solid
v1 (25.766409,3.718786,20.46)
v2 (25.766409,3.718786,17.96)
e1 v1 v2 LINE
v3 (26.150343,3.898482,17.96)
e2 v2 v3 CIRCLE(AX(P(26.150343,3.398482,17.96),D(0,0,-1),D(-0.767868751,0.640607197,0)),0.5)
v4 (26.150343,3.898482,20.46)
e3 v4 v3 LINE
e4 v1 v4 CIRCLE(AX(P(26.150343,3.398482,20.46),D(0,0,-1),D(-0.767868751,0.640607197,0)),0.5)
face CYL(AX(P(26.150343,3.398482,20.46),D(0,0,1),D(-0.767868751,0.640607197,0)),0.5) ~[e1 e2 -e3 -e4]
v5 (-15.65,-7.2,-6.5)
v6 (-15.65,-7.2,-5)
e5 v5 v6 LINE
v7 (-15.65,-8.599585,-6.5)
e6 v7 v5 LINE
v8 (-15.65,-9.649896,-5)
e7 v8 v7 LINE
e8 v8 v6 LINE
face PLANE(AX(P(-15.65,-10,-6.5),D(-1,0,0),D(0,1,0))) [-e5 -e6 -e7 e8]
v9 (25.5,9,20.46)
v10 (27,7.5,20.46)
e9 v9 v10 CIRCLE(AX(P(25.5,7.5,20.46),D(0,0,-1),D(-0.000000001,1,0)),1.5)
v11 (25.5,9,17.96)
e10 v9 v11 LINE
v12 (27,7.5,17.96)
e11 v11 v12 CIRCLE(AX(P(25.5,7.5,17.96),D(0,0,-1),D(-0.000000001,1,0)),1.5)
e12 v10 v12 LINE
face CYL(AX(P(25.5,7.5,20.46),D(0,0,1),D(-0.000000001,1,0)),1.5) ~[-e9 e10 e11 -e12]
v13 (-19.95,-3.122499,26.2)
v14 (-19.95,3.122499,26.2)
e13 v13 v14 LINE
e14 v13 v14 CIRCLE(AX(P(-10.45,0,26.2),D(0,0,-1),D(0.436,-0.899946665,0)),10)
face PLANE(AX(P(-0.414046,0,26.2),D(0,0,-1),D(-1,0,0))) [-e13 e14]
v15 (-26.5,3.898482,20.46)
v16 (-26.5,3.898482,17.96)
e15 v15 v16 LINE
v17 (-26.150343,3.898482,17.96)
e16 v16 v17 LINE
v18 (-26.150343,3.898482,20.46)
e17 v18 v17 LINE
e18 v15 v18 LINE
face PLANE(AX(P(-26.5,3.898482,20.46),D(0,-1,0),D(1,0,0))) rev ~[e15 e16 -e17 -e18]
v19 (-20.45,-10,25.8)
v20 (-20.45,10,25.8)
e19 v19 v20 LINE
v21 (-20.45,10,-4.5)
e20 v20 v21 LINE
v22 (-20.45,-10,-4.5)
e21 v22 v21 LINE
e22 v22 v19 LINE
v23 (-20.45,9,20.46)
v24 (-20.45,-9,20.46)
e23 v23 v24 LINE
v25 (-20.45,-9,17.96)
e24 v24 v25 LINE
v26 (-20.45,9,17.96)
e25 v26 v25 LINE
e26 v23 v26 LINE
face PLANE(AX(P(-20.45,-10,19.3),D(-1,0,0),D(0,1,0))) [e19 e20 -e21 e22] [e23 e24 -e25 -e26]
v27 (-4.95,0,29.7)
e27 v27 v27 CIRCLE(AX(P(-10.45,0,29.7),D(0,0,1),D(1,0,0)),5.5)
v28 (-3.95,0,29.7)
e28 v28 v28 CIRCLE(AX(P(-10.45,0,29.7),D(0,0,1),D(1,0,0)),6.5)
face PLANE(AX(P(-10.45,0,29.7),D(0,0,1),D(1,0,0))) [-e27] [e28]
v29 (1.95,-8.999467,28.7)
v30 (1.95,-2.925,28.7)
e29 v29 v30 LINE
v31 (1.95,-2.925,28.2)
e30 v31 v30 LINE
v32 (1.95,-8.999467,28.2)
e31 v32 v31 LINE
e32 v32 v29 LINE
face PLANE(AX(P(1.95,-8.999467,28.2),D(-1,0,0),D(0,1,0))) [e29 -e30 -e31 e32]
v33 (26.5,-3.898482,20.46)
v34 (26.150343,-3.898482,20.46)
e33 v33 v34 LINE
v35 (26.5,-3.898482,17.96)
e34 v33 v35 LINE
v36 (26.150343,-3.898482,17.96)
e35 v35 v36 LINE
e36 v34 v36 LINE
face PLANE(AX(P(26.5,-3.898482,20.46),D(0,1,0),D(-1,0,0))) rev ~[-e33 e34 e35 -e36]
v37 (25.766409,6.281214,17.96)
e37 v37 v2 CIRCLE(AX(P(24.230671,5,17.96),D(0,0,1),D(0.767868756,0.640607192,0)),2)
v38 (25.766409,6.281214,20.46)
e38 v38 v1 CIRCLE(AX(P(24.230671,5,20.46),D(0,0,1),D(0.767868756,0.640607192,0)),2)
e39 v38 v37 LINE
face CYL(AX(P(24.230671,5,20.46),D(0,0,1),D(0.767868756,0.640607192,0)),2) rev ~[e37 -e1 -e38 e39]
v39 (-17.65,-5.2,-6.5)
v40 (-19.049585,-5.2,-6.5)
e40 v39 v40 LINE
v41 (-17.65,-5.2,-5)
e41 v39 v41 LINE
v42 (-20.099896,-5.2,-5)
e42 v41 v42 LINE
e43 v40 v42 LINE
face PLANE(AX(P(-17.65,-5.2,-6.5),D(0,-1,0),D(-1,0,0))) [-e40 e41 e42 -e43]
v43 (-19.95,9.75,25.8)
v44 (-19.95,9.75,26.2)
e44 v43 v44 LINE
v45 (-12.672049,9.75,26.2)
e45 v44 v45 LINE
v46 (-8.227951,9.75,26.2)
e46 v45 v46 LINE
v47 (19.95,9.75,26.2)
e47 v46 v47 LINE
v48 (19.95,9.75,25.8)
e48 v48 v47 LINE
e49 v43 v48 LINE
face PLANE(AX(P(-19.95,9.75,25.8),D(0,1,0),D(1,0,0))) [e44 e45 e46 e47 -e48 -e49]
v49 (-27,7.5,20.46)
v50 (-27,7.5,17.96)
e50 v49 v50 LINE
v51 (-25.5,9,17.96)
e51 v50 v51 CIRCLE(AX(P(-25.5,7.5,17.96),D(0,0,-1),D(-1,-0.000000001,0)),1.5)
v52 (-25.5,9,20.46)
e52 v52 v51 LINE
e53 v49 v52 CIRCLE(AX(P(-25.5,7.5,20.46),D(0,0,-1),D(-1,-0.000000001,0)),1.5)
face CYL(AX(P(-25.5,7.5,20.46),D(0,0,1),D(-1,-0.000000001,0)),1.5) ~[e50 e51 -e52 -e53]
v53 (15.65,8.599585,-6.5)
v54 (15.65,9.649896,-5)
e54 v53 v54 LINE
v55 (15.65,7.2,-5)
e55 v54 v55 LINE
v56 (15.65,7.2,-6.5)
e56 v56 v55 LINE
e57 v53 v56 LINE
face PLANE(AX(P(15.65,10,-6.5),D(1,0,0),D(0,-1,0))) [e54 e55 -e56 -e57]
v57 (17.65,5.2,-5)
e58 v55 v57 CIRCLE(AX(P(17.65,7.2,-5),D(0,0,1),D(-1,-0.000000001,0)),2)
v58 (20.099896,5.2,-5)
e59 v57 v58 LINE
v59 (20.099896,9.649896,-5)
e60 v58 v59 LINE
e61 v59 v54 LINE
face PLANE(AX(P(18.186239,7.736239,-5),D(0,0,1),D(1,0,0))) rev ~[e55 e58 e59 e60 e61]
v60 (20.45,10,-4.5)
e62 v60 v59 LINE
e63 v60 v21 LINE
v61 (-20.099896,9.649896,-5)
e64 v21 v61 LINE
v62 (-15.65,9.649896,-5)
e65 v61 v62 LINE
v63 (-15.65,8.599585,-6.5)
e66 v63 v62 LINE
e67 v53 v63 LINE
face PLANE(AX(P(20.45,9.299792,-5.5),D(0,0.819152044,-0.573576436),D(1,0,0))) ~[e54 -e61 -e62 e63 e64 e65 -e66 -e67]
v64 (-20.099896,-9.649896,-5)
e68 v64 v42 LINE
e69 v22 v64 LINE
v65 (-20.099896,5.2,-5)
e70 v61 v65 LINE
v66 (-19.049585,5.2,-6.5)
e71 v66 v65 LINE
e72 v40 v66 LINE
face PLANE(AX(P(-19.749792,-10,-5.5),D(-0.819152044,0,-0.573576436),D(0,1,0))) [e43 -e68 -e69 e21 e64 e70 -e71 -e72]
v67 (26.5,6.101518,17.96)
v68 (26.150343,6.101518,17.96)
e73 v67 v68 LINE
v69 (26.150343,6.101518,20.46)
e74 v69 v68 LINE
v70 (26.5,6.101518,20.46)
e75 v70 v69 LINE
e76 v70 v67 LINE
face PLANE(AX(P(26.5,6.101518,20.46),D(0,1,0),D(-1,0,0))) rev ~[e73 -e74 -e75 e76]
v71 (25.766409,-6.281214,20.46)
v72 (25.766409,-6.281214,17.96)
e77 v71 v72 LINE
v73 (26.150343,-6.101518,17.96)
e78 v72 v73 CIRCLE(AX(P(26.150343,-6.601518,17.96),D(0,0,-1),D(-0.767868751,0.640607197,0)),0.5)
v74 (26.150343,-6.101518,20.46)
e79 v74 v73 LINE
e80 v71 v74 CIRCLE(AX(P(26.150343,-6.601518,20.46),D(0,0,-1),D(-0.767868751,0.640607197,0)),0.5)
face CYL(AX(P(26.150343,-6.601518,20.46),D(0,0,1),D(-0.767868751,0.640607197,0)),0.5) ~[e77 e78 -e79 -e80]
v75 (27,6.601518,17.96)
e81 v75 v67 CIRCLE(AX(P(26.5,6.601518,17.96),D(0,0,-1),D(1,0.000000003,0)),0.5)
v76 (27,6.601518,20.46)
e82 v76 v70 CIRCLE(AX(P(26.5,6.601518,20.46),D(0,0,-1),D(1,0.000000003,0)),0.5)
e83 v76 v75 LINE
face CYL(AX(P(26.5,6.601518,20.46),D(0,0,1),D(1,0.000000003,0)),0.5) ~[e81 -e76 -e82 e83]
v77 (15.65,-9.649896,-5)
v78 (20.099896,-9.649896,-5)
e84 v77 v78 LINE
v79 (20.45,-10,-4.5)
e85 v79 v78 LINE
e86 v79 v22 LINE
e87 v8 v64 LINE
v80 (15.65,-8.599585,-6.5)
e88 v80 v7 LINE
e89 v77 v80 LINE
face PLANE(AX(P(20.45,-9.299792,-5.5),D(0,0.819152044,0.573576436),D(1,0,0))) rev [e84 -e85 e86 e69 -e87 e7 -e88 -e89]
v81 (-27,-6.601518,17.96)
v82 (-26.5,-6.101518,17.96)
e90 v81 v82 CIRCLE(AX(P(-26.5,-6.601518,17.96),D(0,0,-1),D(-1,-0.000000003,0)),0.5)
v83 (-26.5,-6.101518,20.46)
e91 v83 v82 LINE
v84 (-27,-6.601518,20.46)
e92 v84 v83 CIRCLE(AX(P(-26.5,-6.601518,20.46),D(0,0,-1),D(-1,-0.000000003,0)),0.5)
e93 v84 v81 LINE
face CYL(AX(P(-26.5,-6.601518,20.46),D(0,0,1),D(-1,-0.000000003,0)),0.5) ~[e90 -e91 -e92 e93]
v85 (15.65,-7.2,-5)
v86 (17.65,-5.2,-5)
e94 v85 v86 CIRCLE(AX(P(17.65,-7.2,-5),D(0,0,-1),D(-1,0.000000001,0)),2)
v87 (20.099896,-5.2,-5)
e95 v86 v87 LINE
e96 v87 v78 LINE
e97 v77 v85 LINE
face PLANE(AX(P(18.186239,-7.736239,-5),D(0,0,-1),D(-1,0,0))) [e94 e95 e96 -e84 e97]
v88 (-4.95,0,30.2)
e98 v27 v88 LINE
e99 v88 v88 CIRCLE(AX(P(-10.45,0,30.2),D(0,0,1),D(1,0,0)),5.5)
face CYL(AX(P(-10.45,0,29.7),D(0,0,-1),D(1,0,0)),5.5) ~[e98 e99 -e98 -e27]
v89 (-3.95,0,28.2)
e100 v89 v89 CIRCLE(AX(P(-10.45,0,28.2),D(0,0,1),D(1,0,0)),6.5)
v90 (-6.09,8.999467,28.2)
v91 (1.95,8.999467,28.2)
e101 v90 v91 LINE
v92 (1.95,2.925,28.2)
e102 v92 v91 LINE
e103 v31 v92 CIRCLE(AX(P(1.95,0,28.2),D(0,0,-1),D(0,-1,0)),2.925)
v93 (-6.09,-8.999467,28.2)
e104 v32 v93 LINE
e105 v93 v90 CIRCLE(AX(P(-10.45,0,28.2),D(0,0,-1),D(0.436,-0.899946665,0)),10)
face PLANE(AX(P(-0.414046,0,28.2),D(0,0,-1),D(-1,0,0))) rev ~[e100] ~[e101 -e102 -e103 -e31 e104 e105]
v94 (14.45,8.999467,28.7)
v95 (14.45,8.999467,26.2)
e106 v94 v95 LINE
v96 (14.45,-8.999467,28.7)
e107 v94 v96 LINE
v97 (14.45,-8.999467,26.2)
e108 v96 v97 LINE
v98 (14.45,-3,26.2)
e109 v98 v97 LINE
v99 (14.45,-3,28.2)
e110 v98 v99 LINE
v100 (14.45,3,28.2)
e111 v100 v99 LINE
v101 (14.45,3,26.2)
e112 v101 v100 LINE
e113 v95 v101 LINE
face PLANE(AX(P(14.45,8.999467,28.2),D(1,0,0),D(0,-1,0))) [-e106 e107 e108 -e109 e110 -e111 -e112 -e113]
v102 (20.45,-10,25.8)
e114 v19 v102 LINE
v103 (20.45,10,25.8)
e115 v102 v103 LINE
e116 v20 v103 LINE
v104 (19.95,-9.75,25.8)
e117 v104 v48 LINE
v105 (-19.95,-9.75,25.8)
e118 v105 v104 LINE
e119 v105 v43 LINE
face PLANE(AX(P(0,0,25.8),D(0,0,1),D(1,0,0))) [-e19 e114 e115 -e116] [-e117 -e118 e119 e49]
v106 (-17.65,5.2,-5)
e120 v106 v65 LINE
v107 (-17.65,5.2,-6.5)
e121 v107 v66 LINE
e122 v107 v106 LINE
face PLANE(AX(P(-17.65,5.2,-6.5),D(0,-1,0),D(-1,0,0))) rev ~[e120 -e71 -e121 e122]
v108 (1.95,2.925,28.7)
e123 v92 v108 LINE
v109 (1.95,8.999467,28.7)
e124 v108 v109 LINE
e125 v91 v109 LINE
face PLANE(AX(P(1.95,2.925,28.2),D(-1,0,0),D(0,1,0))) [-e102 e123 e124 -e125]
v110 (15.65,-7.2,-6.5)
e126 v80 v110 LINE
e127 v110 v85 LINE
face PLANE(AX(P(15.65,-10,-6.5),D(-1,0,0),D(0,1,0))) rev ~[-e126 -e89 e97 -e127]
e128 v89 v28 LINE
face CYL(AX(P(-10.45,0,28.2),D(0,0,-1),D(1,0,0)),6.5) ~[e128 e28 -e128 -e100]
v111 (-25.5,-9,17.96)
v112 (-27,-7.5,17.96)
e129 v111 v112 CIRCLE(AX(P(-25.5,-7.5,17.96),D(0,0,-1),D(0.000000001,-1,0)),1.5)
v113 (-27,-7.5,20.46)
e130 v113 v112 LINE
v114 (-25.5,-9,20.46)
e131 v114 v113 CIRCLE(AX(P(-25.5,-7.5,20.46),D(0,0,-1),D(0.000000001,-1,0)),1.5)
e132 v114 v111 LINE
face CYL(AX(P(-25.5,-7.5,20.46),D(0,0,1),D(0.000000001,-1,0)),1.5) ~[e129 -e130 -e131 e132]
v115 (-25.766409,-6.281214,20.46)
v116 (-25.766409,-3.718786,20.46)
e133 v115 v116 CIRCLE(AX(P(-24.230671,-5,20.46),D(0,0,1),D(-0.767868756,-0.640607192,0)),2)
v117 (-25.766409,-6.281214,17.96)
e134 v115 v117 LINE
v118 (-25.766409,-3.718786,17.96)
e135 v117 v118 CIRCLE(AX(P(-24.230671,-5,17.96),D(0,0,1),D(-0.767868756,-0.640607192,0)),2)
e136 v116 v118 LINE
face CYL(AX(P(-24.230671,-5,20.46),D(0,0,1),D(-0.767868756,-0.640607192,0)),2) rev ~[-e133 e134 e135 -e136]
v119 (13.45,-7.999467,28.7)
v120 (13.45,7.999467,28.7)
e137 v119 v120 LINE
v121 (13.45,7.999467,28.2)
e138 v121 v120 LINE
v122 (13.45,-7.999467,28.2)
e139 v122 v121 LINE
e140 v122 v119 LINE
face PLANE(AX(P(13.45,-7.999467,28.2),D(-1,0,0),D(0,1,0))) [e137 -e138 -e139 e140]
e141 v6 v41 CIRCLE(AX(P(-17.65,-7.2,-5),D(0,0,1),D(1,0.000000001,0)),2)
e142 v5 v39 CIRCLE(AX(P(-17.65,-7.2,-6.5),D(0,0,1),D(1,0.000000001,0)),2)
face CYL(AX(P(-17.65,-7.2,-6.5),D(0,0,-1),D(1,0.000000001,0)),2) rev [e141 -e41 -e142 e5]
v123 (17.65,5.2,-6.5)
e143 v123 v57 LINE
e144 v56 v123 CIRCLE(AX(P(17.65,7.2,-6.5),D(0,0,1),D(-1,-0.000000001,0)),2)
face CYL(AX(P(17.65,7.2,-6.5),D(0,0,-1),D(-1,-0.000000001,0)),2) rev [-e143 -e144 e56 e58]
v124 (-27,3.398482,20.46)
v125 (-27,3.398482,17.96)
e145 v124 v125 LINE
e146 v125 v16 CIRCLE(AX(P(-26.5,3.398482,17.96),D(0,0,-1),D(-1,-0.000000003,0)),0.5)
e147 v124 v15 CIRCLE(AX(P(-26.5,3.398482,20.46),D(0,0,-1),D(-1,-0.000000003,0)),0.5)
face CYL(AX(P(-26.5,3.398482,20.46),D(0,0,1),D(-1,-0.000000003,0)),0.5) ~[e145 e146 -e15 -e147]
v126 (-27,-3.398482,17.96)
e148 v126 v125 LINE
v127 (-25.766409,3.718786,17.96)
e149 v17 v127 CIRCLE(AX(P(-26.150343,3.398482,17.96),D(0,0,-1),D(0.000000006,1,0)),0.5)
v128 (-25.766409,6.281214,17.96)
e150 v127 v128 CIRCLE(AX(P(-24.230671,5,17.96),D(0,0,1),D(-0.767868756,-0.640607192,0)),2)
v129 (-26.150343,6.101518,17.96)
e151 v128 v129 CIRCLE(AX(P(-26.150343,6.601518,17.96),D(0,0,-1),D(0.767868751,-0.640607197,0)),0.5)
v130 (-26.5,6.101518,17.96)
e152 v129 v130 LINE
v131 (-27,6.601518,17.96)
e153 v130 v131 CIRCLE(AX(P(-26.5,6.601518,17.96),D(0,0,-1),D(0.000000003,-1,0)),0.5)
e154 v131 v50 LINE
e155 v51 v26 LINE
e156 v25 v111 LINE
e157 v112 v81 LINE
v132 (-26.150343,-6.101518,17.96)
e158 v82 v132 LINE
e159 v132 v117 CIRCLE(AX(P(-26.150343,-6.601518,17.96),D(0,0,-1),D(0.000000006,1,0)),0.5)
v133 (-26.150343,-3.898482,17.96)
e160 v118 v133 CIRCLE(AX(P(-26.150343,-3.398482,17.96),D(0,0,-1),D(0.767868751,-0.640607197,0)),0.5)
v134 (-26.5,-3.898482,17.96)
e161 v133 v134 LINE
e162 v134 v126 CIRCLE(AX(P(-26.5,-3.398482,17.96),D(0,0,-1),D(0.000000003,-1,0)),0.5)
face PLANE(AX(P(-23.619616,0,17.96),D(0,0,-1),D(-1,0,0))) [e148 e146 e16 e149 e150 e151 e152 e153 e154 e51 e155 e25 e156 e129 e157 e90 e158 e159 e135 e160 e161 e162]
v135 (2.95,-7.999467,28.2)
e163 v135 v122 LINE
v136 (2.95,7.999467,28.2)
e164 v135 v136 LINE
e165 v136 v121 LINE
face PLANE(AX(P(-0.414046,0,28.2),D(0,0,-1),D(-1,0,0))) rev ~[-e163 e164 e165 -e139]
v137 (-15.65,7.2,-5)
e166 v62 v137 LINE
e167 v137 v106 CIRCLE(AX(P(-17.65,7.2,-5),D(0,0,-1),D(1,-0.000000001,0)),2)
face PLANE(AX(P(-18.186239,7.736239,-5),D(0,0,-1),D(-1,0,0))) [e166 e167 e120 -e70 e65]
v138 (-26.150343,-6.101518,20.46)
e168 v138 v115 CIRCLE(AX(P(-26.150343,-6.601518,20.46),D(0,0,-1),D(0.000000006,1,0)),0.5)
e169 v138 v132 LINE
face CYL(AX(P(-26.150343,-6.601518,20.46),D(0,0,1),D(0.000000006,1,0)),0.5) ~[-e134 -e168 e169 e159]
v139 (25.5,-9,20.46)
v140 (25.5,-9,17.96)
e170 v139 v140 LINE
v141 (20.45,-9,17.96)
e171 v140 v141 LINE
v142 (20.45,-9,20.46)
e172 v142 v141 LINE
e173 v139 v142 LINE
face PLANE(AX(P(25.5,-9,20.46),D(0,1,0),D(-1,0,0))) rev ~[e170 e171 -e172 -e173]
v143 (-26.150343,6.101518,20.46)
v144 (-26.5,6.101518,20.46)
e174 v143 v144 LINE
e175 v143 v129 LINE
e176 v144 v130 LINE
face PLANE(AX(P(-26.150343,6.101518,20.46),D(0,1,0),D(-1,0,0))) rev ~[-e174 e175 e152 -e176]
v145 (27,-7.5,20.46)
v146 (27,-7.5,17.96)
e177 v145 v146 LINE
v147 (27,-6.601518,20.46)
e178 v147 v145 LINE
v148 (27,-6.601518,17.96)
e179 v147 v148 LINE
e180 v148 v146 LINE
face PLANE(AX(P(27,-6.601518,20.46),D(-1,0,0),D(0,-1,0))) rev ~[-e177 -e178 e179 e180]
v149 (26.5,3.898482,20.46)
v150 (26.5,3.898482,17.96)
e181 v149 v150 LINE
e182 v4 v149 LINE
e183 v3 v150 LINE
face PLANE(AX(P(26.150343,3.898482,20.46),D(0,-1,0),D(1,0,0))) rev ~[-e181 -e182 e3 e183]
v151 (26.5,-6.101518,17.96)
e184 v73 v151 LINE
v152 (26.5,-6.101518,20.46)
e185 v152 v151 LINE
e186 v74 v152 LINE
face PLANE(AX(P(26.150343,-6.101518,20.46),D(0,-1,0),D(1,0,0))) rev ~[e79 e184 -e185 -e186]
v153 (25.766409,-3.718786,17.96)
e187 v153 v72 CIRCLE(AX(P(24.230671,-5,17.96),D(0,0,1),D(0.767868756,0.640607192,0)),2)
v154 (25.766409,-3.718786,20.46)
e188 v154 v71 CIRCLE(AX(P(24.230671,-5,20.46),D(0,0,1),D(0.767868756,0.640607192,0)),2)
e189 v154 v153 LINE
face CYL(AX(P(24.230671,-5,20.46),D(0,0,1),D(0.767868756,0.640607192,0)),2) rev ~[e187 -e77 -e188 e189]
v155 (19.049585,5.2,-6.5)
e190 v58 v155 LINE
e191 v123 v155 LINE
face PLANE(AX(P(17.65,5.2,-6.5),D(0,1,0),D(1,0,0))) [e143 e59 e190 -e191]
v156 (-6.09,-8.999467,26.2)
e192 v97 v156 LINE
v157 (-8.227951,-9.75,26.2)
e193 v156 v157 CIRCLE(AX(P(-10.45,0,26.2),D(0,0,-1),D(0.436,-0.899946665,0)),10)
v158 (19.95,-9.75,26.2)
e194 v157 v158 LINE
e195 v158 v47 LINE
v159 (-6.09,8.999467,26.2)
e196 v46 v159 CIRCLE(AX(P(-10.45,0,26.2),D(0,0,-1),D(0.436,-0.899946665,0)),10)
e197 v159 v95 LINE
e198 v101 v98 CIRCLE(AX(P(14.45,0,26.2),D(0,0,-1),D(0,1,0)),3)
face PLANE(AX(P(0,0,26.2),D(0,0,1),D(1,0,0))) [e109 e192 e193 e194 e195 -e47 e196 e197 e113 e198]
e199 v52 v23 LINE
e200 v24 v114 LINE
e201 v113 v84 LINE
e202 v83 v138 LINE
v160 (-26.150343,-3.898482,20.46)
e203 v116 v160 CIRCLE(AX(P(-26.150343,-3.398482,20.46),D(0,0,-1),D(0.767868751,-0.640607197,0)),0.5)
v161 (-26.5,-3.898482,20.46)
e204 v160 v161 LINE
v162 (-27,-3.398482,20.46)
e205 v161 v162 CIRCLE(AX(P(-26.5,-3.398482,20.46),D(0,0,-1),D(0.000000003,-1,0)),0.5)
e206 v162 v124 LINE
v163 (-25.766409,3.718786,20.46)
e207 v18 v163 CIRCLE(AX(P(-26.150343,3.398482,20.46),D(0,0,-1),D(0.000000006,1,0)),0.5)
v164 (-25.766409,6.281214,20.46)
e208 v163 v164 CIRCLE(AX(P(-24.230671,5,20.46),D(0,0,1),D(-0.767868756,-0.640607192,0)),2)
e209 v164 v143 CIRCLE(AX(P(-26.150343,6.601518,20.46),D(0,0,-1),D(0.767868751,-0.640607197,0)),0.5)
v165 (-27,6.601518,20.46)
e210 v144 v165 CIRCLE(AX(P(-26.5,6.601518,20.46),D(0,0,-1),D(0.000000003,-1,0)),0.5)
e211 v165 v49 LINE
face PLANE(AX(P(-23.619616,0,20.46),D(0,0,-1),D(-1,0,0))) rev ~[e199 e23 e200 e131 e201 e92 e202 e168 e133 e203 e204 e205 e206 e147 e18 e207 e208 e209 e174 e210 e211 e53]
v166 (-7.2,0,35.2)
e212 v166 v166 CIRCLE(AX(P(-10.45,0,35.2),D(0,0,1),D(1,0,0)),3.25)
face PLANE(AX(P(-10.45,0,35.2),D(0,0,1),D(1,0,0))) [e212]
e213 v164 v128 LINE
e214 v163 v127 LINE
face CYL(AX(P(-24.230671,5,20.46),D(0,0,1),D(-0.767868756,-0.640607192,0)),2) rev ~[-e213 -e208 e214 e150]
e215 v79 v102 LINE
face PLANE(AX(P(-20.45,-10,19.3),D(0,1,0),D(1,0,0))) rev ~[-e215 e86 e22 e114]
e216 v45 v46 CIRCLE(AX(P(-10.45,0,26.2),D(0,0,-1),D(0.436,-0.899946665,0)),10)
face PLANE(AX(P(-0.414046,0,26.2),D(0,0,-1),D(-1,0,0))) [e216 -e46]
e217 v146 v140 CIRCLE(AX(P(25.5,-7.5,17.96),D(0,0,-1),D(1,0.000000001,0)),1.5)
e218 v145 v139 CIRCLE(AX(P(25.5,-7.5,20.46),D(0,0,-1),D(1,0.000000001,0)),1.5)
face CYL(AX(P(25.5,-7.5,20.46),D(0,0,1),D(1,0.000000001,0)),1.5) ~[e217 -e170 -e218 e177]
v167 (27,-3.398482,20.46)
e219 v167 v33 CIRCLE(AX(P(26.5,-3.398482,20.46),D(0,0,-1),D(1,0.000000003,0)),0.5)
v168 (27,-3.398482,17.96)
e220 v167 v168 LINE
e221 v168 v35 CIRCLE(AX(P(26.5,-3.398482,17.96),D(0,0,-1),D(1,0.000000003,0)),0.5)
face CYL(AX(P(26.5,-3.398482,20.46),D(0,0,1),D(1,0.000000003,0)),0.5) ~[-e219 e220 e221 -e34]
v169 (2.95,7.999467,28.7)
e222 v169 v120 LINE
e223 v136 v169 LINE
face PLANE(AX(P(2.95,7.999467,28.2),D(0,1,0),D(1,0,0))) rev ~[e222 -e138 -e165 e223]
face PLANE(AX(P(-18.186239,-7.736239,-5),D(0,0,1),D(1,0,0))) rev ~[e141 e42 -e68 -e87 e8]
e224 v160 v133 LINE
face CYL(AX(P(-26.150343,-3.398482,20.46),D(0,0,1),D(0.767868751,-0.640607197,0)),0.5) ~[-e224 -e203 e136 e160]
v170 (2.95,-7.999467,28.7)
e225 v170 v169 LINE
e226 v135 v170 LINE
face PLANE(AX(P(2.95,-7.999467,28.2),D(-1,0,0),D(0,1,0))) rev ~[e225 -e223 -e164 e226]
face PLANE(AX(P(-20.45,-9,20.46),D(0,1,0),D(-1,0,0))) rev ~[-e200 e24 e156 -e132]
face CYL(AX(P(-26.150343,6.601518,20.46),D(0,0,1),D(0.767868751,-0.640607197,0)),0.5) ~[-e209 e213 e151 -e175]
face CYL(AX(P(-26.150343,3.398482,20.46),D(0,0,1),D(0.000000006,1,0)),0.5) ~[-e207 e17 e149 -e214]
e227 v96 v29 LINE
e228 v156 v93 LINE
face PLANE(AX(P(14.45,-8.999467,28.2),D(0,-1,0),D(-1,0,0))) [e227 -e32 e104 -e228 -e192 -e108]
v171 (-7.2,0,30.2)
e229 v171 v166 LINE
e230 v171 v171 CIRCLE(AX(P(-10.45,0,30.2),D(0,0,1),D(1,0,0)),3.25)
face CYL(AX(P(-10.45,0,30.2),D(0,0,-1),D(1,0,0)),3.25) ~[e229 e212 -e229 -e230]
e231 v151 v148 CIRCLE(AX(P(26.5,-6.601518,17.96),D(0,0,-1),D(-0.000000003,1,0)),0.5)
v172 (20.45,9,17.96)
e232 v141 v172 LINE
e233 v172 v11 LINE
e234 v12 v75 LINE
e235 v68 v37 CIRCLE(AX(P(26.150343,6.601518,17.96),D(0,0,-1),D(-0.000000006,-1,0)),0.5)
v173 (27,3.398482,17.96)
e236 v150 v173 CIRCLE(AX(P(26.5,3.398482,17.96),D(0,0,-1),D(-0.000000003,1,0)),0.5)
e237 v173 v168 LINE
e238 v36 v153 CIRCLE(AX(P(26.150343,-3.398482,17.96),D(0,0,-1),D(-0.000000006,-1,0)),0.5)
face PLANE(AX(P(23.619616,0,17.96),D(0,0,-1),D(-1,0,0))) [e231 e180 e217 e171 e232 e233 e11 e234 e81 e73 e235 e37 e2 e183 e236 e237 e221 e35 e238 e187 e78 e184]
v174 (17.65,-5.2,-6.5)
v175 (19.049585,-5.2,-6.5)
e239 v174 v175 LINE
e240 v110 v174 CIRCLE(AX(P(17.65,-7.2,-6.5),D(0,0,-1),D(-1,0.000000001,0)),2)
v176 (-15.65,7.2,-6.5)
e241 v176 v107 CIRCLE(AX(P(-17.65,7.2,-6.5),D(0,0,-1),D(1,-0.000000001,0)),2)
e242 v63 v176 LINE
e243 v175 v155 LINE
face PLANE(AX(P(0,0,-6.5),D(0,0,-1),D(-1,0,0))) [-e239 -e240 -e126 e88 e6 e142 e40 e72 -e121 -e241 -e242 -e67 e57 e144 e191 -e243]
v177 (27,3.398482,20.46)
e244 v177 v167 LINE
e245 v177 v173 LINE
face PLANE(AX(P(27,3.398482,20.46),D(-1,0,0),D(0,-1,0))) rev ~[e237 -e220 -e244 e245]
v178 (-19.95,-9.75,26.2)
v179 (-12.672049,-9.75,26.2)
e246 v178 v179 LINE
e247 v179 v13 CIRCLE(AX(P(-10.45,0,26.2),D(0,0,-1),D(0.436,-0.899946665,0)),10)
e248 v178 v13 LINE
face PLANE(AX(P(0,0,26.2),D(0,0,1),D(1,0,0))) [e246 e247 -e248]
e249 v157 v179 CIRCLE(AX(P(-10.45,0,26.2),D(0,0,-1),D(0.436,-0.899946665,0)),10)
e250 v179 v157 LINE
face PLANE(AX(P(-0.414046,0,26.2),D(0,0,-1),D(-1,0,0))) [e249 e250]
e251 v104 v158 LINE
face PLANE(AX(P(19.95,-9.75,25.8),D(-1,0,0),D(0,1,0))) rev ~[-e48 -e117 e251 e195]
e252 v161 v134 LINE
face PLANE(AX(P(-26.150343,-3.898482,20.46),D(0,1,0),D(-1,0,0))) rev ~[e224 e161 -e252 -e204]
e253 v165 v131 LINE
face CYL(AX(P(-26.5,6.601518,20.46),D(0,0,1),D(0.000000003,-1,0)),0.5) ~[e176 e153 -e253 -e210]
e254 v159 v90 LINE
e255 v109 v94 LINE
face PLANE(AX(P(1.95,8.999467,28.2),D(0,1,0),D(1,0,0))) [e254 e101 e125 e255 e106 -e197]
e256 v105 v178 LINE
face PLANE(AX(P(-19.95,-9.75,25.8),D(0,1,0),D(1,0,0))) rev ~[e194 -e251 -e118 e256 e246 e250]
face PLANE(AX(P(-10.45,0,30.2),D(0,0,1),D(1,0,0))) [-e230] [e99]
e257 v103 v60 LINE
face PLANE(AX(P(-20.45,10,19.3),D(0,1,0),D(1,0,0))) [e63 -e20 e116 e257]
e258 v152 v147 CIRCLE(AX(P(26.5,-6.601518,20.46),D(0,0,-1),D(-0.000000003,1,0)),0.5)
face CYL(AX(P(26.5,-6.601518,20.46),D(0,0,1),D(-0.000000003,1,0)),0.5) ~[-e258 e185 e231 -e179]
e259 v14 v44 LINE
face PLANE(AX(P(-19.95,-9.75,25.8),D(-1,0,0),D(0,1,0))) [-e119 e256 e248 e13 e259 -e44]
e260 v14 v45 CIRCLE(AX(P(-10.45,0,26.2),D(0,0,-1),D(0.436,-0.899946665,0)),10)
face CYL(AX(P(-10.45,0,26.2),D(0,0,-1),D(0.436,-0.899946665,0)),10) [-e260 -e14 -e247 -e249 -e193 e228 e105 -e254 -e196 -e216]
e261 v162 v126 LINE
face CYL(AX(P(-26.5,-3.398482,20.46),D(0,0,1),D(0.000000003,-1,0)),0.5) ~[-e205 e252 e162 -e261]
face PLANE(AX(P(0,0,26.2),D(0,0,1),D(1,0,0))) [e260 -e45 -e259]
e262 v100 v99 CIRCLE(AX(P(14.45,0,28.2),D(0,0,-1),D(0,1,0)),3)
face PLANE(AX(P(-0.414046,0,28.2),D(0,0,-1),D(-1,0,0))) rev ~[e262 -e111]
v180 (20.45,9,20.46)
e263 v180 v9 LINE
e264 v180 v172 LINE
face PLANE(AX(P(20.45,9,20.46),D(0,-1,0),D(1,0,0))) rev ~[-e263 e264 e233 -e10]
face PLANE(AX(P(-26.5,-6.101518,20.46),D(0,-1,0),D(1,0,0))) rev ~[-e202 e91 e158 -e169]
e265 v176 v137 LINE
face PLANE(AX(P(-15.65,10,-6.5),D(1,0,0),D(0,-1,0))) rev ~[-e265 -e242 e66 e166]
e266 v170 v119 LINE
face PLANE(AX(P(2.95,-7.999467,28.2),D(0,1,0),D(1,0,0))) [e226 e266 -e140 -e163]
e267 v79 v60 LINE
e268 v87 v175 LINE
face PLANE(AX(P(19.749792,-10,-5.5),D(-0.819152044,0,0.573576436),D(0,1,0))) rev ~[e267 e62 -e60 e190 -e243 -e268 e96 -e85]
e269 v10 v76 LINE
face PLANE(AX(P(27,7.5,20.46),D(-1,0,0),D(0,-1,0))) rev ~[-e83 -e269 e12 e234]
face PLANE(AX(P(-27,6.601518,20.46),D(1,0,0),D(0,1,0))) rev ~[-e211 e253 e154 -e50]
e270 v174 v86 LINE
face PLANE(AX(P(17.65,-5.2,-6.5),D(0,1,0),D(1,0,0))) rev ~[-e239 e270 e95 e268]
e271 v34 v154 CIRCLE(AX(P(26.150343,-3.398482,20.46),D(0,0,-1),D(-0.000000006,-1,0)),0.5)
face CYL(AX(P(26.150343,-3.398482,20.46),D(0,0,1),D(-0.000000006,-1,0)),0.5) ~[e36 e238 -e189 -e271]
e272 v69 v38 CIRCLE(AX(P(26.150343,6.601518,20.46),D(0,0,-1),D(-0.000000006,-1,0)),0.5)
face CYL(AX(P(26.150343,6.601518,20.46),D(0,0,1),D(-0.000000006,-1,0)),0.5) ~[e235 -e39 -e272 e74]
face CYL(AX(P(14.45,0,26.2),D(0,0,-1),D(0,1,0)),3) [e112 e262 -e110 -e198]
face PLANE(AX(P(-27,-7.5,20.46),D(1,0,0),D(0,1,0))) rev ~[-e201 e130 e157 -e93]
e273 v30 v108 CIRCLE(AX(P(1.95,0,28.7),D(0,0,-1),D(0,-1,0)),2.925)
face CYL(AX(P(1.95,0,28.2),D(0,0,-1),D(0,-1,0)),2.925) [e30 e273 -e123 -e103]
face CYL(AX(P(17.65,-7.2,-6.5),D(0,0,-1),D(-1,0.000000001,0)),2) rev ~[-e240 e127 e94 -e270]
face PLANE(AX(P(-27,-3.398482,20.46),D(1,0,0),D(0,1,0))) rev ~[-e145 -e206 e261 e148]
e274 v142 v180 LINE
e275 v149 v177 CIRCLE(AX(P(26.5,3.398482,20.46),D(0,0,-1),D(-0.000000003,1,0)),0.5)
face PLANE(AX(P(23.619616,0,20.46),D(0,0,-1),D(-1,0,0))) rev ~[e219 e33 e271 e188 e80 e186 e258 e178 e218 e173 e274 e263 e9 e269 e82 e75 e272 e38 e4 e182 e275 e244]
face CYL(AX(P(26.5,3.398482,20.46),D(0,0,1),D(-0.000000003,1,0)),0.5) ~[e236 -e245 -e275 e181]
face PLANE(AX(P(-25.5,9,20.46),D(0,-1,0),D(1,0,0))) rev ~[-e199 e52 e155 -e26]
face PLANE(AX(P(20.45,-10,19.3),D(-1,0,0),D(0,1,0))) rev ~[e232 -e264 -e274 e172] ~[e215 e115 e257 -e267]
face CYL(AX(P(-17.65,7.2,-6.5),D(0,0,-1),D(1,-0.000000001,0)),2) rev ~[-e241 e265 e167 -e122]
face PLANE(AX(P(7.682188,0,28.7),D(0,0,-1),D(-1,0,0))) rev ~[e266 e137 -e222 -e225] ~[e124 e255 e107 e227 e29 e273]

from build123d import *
from OCP.BRepFilletAPI import BRepFilletAPI_MakeChamfer

# Parameters (mm, degrees)
SKETCH1_W            = 40.9
SKETCH1_H            = 20
BOSS_EXTRUDE1_DEPTH  = 19.3
SKETCH2_W            = 40.9
SKETCH2_H            = 20
BOSS_EXTRUDE2_DEPTH  = 6.5
SKETCH3_W            = 40.9
SKETCH3_H            = 20
BOSS_EXTRUDE3_DEPTH  = 6.5
CHAMFER1_SIZE        = 2
CHAMFER1_SIZE2       = 1.400415076
CUT_EXTRUDE1_DEPTH   = 1.5
SKETCH5_W            = 39.9
SKETCH5_H            = 19.5
BOSS_EXTRUDE4_DEPTH  = 0.4
BOSS_EXTRUDE5_DEPTH  = 2
SKETCH7_R            = 6.5
BOSS_EXTRUDE6_DEPTH  = 1.5
SKETCH8_R            = 5.5
BOSS_EXTRUDE7_DEPTH  = 0.5
SKETCH9_R            = 3.25
BOSS_EXTRUDE8_DEPTH  = 5
SKETCH10_W           = 10.5
SKETCH10_H           = 15.998933302
BOSS_EXTRUDE9_DEPTH  = 0.5
BOSS_EXTRUDE10_START = -5.74
BOSS_EXTRUDE10_DEPTH = 2.5


with BuildPart() as part:
    # Sketch1 → Boss-Extrude1 (new body)
    with BuildSketch(Plane.XY):
        Rectangle(SKETCH1_W, SKETCH1_H)
    extrude(amount=BOSS_EXTRUDE1_DEPTH)

    # Sketch2 → Boss-Extrude2 (add)
    with BuildSketch(Plane(origin=(0, 0, 0), x_dir=(-1, 0, 0), z_dir=(0, 0, -1))):
        Rectangle(SKETCH2_W, SKETCH2_H)
    extrude(amount=BOSS_EXTRUDE2_DEPTH)

    # Sketch3 → Boss-Extrude3 (add)
    with BuildSketch(Plane.XY.offset(19.3)):
        Rectangle(SKETCH3_W, SKETCH3_H)
    extrude(amount=BOSS_EXTRUDE3_DEPTH)

    # Chamfer1: one chamfer whose edges measure the first distance from different faces: ONE call of the kernel's chamfer builder (chamfer() names one face for all edges)
    chamfer1_edges_1 = [part.edges().sort_by_distance(p)[0] for p in [
        (0, 10, -6.5),
    ]]
    chamfer1_side_1 = [part.faces().sort_by_distance(p)[0] for p in [
        (0, 10, 9.65),
    ]]
    chamfer1_edges_2 = [part.edges().sort_by_distance(p)[0] for p in [
        (20.45, 0, -6.5),
    ]]
    chamfer1_side_2 = [part.faces().sort_by_distance(p)[0] for p in [
        (20.45, 0, 9.65),
    ]]
    chamfer1_edges_3 = [part.edges().sort_by_distance(p)[0] for p in [
        (0, -10, -6.5),
    ]]
    chamfer1_side_3 = [part.faces().sort_by_distance(p)[0] for p in [
        (0, -10, 9.65),
    ]]
    chamfer1_edges_4 = [part.edges().sort_by_distance(p)[0] for p in [
        (-20.45, 0, -6.5),
    ]]
    chamfer1_side_4 = [part.faces().sort_by_distance(p)[0] for p in [
        (-20.45, 0, 9.65),
    ]]
    chamfer1 = BRepFilletAPI_MakeChamfer(part.part.solid().wrapped)
    for e in chamfer1_edges_1:
        chamfer1.Add(CHAMFER1_SIZE, CHAMFER1_SIZE2, e.wrapped, chamfer1_side_1[0].wrapped)  # the first distance lies on this face
    for e in chamfer1_edges_2:
        chamfer1.Add(CHAMFER1_SIZE, CHAMFER1_SIZE2, e.wrapped, chamfer1_side_2[0].wrapped)  # the first distance lies on this face
    for e in chamfer1_edges_3:
        chamfer1.Add(CHAMFER1_SIZE, CHAMFER1_SIZE2, e.wrapped, chamfer1_side_3[0].wrapped)  # the first distance lies on this face
    for e in chamfer1_edges_4:
        chamfer1.Add(CHAMFER1_SIZE, CHAMFER1_SIZE2, e.wrapped, chamfer1_side_4[0].wrapped)  # the first distance lies on this face
    add(Compound.cast(chamfer1.Shape()), mode=Mode.REPLACE)

    # Sketch4 → Cut-Extrude1 (cut)
    with BuildSketch(Plane(origin=(0, 0, -6.5), x_dir=(-1, 0, 0), z_dir=(0, 0, -1))):
        with BuildLine():
            Line((-20.45, 10), (-15.65, 10))
            Line((-15.65, 10), (-15.65, 7.2))
            ThreePointArc((-15.65, 7.2), (-16.235786438, 5.785786438), (-17.65, 5.2))
            Line((-17.65, 5.2), (-20.45, 5.2))
            Line((-20.45, 5.2), (-20.45, 10))
        make_face()
        with BuildLine():
            Line((15.65, 10), (15.65, 7.2))
            ThreePointArc((15.65, 7.2), (16.235786438, 5.785786438), (17.65, 5.2))
            Line((17.65, 5.2), (20.45, 5.2))
            Line((20.45, 5.2), (20.45, 10))
            Line((20.45, 10), (15.65, 10))
        make_face()
        with BuildLine():
            Line((20.45, -10), (15.65, -10))
            Line((15.65, -10), (15.65, -7.2))
            ThreePointArc((15.65, -7.2), (16.235786438, -5.785786438), (17.65, -5.2))
            Line((17.65, -5.2), (20.45, -5.2))
            Line((20.45, -5.2), (20.45, -10))
        make_face()
        with BuildLine():
            Line((-15.65, -10), (-15.65, -7.2))
            ThreePointArc((-15.65, -7.2), (-16.235786438, -5.785786438), (-17.65, -5.2))
            Line((-17.65, -5.2), (-20.45, -5.2))
            Line((-20.45, -5.2), (-20.45, -10))
            Line((-20.45, -10), (-15.65, -10))
        make_face()
    extrude(amount=-CUT_EXTRUDE1_DEPTH, mode=Mode.SUBTRACT)

    # Sketch5 → Boss-Extrude4 (add)
    with BuildSketch(Plane.XY.offset(25.8)):
        Rectangle(SKETCH5_W, SKETCH5_H)
    extrude(amount=BOSS_EXTRUDE4_DEPTH)

    # Sketch6 → Boss-Extrude5 (add)
    with BuildSketch(Plane.XY.offset(26.2)):
        with BuildLine():
            Line((-6.09, 8.999466651), (14.45, 8.999466651))
            Line((14.45, 8.999466651), (14.45, 3))
            ThreePointArc((14.45, 3), (17.45, 0), (14.45, -3))
            Line((14.45, -3), (14.45, -8.999466651))
            Line((14.45, -8.999466651), (-6.09, -8.999466651))
            ThreePointArc((-6.09, -8.999466651), (-20.45, 0), (-6.09, 8.999466651))
        make_face()
    extrude(amount=BOSS_EXTRUDE5_DEPTH)

    # Sketch7 → Boss-Extrude6 (add)
    with BuildSketch(Plane.XY.offset(28.2)):
        with Locations((-10.45, 0)):
            Circle(SKETCH7_R)
    extrude(amount=BOSS_EXTRUDE6_DEPTH)

    # Sketch8 → Boss-Extrude7 (add)
    with BuildSketch(Plane.XY.offset(29.7)):
        with Locations((-10.45, 0)):
            Circle(SKETCH8_R)
    extrude(amount=BOSS_EXTRUDE7_DEPTH)

    # Sketch9 → Boss-Extrude8 (add)
    with BuildSketch(Plane.XY.offset(30.2)):
        with Locations((-10.45, 0)):
            Circle(SKETCH9_R)
    extrude(amount=BOSS_EXTRUDE8_DEPTH)

    # Sketch10 → Boss-Extrude9 (add)
    with BuildSketch(Plane.XY.offset(28.2)):
        with BuildLine():
            Line((1.95, 8.999466651), (14.45, 8.999466651))
            Line((14.45, 8.999466651), (14.45, -8.999466651))
            Line((14.45, -8.999466651), (1.95, -8.999466651))
            Line((1.95, -8.999466651), (1.95, -2.925))
            ThreePointArc((1.95, -2.925), (-0.975, 0), (1.95, 2.925))
            Line((1.95, 2.925), (1.95, 8.999466651))
        make_face()
        with Locations((8.2, 0)):
            Rectangle(SKETCH10_W, SKETCH10_H, mode=Mode.SUBTRACT)
    extrude(amount=BOSS_EXTRUDE9_DEPTH)

    # Sketch11 → Boss-Extrude10 (add)
    with BuildSketch(Plane.XY.offset(26.2).offset(BOSS_EXTRUDE10_START)):
        with BuildLine():
            Line((20.45, 9), (25.5, 9))
            ThreePointArc((25.5, 9), (26.560660172, 8.560660172), (27, 7.5))
            Line((27, 7.5), (27, 6.601517979))
            ThreePointArc((27, 6.601517979), (26.853553391, 6.247964588), (26.5, 6.101517979))
            Line((26.5, 6.101517979), (26.150343239, 6.101517979))
            ThreePointArc((26.150343239, 6.101517979), (25.938390176, 6.148664914), (25.766408861, 6.281214383))
            ThreePointArc((25.766408861, 6.281214383), (22.23067135, 5), (25.766408861, 3.718785617))
            ThreePointArc((25.766408861, 3.718785617), (25.938390176, 3.851335086), (26.150343239, 3.898482021))
            Line((26.150343239, 3.898482021), (26.5, 3.898482021))
            ThreePointArc((26.5, 3.898482021), (26.853553391, 3.752035412), (27, 3.398482021))
            Line((27, 3.398482021), (27, -3.398482021))
            ThreePointArc((27, -3.398482021), (26.853553391, -3.752035412), (26.5, -3.898482021))
            Line((26.5, -3.898482021), (26.150343239, -3.898482021))
            ThreePointArc((26.150343239, -3.898482021), (25.938390176, -3.851335086), (25.766408861, -3.718785617))
            ThreePointArc((25.766408861, -3.718785617), (22.23067135, -5), (25.766408861, -6.281214383))
            ThreePointArc((25.766408861, -6.281214383), (25.938390176, -6.148664914), (26.150343239, -6.101517979))
            Line((26.150343239, -6.101517979), (26.5, -6.101517979))
            ThreePointArc((26.5, -6.101517979), (26.853553391, -6.247964588), (27, -6.601517979))
            Line((27, -6.601517979), (27, -7.5))
            ThreePointArc((27, -7.5), (26.560660172, -8.560660172), (25.5, -9))
            Line((25.5, -9), (20.45, -9))
            Line((20.45, -9), (20.45, 9))
        make_face()
        with BuildLine():
            Line((-20.45, -9), (-25.5, -9))
            ThreePointArc((-25.5, -9), (-26.560660172, -8.560660172), (-27, -7.5))
            Line((-27, -7.5), (-27, -6.601517979))
            ThreePointArc((-27, -6.601517979), (-26.853553391, -6.247964588), (-26.5, -6.101517979))
            Line((-26.5, -6.101517979), (-26.150343239, -6.101517979))
            ThreePointArc((-26.150343239, -6.101517979), (-25.938390176, -6.148664914), (-25.766408861, -6.281214383))
            ThreePointArc((-25.766408861, -6.281214383), (-22.23067135, -5), (-25.766408861, -3.718785617))
            ThreePointArc((-25.766408861, -3.718785617), (-25.938390176, -3.851335086), (-26.150343239, -3.898482021))
            Line((-26.150343239, -3.898482021), (-26.5, -3.898482021))
            ThreePointArc((-26.5, -3.898482021), (-26.853553391, -3.752035412), (-27, -3.398482021))
            Line((-27, -3.398482021), (-27, 3.398482021))
            ThreePointArc((-27, 3.398482021), (-26.853553391, 3.752035412), (-26.5, 3.898482021))
            Line((-26.5, 3.898482021), (-26.150343239, 3.898482021))
            ThreePointArc((-26.150343239, 3.898482021), (-25.938390176, 3.851335086), (-25.766408861, 3.718785617))
            ThreePointArc((-25.766408861, 3.718785617), (-22.23067135, 5), (-25.766408861, 6.281214383))
            ThreePointArc((-25.766408861, 6.281214383), (-25.938390176, 6.148664914), (-26.150343239, 6.101517979))
            Line((-26.150343239, 6.101517979), (-26.5, 6.101517979))
            ThreePointArc((-26.5, 6.101517979), (-26.853553391, 6.247964588), (-27, 6.601517979))
            Line((-27, 6.601517979), (-27, 7.5))
            ThreePointArc((-27, 7.5), (-26.560660172, 8.560660172), (-25.5, 9))
            Line((-25.5, 9), (-20.45, 9))
            Line((-20.45, 9), (-20.45, -9))
        make_face()
    extrude(amount=-BOSS_EXTRUDE10_DEPTH)


solid = part.part
